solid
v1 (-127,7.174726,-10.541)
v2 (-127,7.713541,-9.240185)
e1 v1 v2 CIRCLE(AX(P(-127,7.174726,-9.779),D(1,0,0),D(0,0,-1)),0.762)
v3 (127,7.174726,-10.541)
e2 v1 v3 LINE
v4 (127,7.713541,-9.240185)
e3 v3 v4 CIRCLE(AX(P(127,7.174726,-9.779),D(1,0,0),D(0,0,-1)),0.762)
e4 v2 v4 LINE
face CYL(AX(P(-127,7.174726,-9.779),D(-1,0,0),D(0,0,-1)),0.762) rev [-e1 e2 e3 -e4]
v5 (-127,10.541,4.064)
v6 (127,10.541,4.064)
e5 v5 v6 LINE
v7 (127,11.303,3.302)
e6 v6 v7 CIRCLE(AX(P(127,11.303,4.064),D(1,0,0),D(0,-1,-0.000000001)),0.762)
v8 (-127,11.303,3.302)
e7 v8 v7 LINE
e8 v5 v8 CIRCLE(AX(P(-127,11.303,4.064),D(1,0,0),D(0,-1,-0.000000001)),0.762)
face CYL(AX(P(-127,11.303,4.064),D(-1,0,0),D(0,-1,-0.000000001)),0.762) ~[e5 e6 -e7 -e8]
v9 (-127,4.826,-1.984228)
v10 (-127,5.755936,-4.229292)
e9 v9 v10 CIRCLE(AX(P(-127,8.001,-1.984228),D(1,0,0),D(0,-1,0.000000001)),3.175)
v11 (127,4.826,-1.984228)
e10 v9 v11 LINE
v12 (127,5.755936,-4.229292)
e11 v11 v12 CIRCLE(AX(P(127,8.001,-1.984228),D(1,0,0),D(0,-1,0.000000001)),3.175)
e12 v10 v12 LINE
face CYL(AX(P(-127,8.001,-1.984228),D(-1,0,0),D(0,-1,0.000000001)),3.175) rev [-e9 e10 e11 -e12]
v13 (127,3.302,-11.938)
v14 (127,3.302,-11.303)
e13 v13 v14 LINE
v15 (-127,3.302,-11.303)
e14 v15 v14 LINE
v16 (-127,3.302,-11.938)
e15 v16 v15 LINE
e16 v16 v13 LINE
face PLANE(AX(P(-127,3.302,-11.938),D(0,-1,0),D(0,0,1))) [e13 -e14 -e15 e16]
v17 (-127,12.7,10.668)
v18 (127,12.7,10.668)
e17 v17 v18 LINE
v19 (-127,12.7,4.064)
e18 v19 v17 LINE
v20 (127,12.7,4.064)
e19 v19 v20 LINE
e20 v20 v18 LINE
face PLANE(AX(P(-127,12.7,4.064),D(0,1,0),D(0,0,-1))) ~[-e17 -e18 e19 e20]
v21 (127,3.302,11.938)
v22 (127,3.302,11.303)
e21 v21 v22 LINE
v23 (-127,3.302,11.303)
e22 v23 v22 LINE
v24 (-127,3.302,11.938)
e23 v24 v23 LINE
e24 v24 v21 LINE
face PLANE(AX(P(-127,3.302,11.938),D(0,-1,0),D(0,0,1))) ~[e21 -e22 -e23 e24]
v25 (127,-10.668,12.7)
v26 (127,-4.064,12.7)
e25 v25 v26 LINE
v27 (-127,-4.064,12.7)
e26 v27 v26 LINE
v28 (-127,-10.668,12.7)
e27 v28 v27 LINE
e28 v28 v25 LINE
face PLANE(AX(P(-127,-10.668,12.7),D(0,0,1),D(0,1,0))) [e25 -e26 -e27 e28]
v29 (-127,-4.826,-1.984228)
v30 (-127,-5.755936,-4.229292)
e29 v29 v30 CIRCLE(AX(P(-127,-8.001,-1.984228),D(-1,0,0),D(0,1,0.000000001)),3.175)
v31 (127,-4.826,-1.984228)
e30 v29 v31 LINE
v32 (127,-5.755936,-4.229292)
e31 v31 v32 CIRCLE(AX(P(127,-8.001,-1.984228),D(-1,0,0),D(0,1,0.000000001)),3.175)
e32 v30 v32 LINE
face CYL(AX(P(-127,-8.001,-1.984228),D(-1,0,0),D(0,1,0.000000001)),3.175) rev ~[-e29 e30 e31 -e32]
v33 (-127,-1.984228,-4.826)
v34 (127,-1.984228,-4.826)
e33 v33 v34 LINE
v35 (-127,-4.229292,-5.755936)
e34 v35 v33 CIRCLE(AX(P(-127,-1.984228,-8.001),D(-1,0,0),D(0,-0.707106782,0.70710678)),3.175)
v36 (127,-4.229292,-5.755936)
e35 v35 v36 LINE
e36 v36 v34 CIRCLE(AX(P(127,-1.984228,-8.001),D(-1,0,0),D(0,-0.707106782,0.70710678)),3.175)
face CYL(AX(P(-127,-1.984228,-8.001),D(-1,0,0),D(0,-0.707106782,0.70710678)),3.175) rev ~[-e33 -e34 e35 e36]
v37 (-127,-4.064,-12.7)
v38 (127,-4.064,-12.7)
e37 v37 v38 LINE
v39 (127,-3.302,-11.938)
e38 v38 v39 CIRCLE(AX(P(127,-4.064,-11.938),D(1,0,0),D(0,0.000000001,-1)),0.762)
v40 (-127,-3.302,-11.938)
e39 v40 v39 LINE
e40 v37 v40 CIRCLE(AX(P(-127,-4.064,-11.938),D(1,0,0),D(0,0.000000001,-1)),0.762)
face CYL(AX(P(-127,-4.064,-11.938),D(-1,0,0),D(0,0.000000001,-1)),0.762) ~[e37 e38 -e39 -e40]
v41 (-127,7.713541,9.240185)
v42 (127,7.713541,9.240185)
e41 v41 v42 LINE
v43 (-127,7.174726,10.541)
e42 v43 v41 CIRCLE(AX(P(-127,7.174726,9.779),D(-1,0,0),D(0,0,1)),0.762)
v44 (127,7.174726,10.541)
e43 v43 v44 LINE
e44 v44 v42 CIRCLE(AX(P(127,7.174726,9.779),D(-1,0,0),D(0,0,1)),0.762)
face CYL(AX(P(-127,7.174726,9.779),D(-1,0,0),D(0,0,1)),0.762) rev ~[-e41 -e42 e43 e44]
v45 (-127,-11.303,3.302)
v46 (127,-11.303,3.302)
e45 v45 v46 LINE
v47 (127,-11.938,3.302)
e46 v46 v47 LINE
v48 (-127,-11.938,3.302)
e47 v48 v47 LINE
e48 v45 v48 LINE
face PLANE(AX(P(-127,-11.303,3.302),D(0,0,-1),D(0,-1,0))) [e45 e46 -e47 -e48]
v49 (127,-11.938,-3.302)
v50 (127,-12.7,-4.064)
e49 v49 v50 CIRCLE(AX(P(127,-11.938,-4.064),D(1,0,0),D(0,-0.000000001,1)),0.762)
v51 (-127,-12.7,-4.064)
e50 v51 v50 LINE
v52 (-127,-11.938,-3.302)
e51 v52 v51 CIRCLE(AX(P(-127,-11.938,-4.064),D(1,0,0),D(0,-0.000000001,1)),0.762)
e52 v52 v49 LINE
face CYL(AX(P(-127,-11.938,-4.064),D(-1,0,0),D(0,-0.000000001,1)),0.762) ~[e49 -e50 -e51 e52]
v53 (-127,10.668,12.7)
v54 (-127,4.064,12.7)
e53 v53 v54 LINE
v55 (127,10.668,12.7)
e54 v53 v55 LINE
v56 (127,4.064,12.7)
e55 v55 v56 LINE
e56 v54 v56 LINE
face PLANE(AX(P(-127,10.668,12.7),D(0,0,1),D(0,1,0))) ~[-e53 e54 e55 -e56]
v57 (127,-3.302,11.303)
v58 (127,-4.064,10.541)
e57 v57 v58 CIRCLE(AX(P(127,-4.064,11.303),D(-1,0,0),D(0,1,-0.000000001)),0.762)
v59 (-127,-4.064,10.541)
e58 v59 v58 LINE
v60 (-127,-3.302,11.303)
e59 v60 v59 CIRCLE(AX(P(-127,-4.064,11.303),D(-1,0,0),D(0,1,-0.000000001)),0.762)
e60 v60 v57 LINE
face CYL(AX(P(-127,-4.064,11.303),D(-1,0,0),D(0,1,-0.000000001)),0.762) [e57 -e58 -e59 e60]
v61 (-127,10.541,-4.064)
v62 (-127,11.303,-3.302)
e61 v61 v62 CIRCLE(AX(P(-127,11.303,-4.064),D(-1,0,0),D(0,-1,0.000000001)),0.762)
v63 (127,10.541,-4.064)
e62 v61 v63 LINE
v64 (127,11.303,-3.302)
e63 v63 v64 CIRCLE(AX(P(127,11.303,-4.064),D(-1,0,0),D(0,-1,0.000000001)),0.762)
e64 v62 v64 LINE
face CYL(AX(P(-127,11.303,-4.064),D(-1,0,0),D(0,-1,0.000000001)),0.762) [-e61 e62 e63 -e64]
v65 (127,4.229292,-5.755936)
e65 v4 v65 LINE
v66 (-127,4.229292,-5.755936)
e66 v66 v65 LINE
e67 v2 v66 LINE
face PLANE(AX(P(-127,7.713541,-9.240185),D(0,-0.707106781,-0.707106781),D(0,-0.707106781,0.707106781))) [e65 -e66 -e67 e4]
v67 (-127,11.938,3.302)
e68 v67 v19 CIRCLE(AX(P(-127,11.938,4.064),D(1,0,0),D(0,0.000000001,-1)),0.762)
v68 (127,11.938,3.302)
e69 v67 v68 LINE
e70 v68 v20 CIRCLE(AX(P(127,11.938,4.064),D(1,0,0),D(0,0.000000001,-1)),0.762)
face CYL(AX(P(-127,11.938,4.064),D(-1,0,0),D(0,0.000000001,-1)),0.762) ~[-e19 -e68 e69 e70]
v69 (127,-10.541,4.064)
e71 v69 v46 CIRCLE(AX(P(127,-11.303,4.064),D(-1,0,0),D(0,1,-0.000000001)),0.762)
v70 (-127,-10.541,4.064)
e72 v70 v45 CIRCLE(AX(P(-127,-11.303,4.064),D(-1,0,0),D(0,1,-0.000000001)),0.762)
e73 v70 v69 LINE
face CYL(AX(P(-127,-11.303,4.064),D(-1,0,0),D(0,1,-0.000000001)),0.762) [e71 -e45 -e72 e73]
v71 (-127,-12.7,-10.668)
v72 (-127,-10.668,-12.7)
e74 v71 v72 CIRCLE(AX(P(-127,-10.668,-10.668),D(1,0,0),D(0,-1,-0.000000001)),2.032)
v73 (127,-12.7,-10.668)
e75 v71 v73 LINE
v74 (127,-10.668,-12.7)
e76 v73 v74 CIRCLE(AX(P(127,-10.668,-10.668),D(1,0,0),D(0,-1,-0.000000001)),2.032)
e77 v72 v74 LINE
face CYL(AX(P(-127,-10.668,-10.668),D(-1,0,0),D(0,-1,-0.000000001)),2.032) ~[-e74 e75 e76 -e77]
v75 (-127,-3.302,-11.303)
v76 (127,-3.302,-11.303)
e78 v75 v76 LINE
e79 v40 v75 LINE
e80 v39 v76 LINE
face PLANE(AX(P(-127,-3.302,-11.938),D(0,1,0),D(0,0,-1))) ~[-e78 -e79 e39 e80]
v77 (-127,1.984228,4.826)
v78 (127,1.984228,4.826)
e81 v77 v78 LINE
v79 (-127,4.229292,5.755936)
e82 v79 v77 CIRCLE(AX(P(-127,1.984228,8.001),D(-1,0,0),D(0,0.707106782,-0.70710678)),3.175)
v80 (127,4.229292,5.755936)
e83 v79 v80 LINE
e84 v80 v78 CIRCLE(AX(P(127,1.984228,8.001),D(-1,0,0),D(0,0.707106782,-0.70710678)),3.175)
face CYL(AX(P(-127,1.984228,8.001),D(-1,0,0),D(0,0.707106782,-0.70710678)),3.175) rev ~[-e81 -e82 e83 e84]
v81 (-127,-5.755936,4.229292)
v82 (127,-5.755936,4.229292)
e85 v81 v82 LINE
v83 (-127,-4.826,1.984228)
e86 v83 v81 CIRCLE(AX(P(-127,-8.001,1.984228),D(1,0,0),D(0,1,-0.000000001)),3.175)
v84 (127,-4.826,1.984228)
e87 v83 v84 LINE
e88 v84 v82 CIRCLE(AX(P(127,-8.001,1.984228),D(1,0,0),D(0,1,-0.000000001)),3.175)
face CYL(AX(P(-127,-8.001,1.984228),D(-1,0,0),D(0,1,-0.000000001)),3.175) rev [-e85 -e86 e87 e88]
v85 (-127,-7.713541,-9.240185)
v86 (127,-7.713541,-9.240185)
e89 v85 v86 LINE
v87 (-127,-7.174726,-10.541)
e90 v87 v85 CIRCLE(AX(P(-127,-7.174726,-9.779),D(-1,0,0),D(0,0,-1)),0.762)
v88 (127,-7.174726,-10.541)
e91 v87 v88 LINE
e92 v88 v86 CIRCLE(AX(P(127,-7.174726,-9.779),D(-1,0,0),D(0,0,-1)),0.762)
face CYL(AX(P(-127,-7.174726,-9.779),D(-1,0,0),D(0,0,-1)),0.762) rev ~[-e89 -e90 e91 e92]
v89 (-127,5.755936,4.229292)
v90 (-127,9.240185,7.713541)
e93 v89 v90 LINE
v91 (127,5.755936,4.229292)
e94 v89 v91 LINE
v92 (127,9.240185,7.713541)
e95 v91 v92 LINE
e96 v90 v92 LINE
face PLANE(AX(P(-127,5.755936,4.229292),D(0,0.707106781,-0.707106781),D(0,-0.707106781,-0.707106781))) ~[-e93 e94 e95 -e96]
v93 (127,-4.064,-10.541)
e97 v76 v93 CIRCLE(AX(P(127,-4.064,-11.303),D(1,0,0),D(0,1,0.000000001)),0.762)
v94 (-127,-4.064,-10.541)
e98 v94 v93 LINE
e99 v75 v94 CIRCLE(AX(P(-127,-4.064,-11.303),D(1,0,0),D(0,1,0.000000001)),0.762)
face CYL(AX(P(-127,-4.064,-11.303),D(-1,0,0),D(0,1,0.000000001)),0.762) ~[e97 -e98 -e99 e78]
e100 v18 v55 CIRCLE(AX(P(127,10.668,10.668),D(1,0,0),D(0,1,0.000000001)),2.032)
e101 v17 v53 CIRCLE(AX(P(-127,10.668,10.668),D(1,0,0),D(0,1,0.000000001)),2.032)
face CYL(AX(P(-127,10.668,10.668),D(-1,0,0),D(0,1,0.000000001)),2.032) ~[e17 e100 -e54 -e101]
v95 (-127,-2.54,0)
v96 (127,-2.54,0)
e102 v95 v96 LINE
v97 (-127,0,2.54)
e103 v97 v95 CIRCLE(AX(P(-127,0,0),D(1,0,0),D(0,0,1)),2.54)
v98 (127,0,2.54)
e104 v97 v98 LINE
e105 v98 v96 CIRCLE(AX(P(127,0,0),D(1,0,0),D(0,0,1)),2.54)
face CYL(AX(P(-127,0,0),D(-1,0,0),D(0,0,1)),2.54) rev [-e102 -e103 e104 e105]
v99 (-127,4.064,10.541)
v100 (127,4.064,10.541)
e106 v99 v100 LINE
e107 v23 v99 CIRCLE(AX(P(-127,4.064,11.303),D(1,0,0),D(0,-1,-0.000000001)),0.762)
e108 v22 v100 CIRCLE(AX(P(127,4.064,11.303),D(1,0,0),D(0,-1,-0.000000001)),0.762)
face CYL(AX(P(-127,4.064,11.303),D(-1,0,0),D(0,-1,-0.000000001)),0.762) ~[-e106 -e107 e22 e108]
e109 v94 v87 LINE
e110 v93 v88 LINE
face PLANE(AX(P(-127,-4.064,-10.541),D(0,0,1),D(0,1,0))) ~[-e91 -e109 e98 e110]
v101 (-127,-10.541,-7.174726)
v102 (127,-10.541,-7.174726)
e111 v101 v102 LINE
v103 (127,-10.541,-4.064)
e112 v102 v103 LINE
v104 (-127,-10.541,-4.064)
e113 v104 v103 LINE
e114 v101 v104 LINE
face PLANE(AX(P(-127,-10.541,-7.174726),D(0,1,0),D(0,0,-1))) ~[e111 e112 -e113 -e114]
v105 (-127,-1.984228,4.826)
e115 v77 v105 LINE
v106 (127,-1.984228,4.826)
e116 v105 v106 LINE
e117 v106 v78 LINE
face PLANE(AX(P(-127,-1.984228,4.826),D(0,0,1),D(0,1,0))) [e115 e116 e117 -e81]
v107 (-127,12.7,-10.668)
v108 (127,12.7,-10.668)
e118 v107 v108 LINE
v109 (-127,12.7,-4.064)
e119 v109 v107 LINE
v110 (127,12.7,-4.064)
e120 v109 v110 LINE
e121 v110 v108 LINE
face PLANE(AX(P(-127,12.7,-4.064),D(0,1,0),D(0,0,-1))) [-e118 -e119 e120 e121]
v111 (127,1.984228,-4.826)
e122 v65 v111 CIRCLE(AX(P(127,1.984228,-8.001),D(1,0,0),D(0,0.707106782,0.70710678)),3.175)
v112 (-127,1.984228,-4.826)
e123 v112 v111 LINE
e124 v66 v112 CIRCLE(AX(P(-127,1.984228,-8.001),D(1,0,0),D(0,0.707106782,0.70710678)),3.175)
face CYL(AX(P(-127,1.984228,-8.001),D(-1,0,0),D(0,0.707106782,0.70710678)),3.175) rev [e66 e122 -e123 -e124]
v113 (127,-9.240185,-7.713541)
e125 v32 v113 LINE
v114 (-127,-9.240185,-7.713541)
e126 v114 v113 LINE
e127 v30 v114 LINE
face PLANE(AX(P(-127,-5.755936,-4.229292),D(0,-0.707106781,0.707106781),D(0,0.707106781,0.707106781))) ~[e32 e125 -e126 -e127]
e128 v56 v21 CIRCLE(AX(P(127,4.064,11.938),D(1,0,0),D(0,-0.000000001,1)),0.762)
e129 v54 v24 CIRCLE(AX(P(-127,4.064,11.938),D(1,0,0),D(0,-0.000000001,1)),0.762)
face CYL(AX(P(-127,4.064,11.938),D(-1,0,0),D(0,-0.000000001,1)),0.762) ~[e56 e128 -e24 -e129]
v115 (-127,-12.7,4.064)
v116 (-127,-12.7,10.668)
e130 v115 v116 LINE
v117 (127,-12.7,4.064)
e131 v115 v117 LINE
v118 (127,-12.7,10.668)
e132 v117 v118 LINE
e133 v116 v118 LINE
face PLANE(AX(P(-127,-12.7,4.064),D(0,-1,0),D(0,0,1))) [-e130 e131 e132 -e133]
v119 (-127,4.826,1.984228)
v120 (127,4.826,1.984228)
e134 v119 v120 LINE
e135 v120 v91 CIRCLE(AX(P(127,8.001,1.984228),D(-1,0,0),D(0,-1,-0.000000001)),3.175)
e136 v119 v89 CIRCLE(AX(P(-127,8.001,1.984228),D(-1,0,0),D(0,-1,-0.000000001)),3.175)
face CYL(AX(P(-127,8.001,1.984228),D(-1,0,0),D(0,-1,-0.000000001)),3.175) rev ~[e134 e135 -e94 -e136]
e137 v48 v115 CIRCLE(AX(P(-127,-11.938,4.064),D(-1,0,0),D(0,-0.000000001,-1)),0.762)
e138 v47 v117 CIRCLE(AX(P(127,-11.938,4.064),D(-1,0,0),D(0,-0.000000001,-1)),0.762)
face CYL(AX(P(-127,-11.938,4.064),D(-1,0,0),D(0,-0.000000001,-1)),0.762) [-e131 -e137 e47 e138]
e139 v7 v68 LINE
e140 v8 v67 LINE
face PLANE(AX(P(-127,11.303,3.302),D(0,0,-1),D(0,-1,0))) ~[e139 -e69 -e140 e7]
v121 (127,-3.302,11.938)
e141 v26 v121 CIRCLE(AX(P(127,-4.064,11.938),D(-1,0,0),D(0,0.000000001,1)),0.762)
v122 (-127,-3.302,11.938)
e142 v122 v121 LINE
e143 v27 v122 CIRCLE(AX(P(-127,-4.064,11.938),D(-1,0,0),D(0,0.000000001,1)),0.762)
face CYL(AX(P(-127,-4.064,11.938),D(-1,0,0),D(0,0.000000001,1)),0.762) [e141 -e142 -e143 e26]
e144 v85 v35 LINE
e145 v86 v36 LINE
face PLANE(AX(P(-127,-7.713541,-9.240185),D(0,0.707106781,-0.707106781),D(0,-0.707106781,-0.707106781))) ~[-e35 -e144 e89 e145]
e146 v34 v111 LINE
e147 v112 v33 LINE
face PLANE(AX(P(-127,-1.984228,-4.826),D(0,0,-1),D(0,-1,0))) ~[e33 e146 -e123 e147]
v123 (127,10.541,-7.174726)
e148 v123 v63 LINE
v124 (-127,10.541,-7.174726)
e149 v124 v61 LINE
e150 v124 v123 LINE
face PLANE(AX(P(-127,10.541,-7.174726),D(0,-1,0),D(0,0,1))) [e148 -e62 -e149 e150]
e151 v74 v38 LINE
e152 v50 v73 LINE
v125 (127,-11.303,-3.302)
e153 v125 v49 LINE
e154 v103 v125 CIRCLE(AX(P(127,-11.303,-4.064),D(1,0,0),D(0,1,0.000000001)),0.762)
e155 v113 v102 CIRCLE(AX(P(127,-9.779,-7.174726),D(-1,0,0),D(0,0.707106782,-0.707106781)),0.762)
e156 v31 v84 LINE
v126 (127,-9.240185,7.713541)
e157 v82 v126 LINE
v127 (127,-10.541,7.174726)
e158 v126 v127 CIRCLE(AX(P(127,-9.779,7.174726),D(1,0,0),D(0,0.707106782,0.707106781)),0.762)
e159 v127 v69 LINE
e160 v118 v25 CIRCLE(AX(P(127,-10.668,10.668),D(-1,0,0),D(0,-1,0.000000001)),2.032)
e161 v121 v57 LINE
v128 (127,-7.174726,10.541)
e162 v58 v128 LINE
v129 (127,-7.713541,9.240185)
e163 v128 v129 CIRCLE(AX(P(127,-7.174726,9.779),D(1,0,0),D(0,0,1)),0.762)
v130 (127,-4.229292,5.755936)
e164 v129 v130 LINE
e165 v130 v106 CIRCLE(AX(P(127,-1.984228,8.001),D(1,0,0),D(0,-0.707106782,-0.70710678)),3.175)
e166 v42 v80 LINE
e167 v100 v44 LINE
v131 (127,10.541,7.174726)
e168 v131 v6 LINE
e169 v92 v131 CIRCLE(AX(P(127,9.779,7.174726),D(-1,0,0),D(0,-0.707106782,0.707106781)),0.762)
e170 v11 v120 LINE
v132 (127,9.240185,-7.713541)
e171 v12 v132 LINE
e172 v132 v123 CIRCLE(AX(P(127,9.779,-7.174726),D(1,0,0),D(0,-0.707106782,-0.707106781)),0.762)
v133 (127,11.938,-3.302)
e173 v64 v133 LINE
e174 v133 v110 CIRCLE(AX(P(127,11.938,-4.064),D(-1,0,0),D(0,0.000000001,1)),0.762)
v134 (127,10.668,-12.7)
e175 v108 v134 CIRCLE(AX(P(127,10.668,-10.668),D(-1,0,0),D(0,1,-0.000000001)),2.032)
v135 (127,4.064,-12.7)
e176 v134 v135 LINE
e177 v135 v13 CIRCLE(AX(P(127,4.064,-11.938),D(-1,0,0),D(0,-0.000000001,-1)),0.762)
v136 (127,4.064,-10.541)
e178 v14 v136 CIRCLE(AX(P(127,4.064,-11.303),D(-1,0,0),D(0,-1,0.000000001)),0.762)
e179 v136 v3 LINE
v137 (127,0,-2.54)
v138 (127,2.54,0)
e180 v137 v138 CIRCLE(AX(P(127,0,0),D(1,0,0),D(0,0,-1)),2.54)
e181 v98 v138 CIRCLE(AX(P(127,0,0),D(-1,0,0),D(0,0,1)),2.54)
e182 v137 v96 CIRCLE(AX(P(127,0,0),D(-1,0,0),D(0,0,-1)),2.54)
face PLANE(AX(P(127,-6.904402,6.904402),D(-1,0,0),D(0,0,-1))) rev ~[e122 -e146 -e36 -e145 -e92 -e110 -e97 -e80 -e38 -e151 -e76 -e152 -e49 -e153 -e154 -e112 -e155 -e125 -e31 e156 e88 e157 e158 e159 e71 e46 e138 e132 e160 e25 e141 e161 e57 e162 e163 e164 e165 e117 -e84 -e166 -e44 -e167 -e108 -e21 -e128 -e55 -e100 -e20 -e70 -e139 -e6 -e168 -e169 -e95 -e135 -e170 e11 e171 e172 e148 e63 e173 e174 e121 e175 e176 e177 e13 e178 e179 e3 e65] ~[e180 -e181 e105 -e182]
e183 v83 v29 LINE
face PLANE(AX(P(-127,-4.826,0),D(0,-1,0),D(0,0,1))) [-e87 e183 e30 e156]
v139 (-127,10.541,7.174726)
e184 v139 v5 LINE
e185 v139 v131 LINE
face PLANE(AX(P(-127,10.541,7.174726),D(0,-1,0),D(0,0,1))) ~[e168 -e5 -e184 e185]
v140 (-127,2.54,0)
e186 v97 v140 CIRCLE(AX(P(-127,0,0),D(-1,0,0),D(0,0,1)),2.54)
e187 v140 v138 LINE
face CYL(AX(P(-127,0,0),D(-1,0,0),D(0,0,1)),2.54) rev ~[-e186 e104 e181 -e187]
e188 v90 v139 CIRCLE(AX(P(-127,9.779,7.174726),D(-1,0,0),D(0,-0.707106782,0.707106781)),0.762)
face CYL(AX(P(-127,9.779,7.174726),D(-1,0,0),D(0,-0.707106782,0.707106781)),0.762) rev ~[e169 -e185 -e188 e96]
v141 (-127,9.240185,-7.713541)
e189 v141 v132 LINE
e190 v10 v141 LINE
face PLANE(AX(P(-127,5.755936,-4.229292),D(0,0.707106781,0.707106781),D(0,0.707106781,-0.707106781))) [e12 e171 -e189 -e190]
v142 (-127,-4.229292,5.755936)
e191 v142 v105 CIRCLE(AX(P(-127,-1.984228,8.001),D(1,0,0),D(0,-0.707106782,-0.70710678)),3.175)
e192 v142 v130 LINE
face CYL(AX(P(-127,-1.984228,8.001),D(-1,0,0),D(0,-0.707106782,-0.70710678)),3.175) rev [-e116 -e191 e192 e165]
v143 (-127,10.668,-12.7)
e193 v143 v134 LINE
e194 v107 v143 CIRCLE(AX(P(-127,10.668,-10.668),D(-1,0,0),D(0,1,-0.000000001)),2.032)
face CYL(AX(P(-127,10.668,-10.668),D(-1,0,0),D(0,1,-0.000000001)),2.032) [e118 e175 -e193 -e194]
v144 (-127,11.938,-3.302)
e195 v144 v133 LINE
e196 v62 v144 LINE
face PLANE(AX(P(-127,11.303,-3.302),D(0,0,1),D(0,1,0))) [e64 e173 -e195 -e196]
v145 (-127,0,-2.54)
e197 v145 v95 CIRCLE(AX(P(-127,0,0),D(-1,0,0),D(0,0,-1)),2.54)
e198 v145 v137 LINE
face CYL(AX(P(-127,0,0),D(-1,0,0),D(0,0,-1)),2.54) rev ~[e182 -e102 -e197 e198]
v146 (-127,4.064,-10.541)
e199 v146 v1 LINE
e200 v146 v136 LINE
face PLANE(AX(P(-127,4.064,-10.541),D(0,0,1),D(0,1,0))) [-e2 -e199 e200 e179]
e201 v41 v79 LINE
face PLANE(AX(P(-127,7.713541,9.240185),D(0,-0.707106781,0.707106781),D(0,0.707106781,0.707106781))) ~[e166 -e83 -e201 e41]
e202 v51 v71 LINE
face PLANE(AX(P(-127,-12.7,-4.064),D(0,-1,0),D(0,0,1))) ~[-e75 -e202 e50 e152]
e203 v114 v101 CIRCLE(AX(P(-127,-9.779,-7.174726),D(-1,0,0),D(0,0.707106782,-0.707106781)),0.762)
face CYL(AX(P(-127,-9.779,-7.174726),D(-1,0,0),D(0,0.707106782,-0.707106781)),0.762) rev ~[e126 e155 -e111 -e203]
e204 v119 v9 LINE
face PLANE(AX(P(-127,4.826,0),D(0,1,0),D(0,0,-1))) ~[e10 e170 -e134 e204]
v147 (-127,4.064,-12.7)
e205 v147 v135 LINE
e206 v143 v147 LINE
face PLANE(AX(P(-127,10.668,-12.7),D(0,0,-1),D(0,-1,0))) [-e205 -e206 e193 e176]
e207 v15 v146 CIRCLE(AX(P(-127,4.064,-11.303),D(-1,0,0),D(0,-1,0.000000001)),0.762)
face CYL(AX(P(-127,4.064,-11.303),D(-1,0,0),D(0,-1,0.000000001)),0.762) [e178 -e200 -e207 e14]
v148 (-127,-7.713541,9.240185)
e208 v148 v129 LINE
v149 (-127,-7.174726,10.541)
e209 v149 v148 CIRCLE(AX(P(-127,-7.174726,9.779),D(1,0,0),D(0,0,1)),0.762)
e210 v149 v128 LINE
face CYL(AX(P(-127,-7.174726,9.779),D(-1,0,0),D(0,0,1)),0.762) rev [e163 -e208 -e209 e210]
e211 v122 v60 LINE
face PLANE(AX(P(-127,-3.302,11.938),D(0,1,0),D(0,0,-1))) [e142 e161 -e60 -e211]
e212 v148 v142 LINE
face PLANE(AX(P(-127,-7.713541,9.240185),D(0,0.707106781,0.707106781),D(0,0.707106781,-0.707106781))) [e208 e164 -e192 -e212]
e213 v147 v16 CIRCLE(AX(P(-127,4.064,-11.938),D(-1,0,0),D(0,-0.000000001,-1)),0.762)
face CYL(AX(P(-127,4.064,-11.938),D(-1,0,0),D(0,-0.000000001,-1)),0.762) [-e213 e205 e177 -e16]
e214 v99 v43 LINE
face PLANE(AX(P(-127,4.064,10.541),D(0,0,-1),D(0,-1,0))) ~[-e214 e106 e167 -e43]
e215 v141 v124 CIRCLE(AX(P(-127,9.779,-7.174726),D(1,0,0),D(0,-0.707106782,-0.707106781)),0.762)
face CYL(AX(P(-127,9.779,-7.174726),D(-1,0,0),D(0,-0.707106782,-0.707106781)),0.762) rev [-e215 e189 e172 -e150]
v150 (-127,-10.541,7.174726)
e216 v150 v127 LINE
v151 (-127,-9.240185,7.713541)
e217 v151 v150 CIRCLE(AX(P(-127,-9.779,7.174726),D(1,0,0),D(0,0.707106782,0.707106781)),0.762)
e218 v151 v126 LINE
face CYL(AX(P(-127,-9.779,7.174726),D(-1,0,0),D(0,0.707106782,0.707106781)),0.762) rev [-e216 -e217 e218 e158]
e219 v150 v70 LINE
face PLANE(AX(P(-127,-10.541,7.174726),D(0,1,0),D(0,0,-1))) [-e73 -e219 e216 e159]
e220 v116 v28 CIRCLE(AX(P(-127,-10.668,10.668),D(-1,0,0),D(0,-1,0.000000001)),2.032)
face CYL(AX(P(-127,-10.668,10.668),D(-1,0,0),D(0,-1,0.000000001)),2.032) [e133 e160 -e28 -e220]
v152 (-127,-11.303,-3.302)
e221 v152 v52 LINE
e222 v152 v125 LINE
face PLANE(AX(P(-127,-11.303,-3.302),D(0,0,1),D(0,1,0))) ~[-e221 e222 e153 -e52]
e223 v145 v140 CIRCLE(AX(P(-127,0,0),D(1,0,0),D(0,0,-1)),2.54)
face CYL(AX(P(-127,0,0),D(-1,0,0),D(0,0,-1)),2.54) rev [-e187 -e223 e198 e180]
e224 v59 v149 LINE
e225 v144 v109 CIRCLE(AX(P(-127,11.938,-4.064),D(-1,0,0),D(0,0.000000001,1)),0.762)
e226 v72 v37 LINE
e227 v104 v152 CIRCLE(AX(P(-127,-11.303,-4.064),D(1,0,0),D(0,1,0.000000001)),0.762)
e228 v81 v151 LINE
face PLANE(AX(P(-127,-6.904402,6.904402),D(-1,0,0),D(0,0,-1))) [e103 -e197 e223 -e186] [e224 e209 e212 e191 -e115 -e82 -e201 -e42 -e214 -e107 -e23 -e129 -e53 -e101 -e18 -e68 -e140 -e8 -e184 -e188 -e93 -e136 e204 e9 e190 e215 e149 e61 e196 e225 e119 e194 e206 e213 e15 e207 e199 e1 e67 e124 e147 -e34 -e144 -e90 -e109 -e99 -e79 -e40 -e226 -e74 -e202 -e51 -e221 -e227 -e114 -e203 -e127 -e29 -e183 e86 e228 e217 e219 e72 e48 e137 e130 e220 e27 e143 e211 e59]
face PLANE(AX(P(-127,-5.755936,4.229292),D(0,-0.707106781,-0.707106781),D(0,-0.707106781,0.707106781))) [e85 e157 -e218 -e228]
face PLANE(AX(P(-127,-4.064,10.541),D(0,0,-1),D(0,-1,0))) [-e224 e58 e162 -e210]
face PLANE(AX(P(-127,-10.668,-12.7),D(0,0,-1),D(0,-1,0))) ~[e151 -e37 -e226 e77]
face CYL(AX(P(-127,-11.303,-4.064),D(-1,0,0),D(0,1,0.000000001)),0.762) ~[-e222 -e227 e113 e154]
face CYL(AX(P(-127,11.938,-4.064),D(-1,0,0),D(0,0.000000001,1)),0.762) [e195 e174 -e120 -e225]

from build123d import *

# Parameters (mm, degrees)
BOSS_EXTRUDE1_DEPTH      = 127
BOSS_EXTRUDE1_DEPTH_BACK = 127


with BuildPart() as part:
    # Sketch3 → Boss-Extrude1 (new, two sides: drawn at the far end of the back side and taken through both)
    with BuildSketch(Plane(origin=(0, 0, 0), x_dir=(0, 0, -1), z_dir=(1, 0, 0)).offset(-BOSS_EXTRUDE1_DEPTH_BACK)):
        with BuildLine():
            Line((0, 4.826), (1.984228399, 4.826))
            ThreePointArc((1.984228399, 4.826), (3.199248297, 5.067682484), (4.229292429, 5.75593597))
            Line((4.229292429, 5.75593597), (7.713541092, 9.240184633))
            ThreePointArc((7.713541092, 9.240184633), (7.878721929, 10.070604775), (7.174725725, 10.541))
            Line((7.174725725, 10.541), (4.064, 10.541))
            ThreePointArc((4.064, 10.541), (3.525184633, 10.764184633), (3.302, 11.303))
            Line((3.302, 11.303), (3.302, 11.938))
            ThreePointArc((3.302, 11.938), (3.525184633, 12.476815367), (4.064, 12.7))
            Line((4.064, 12.7), (10.668, 12.7))
            ThreePointArc((10.668, 12.7), (12.104840979, 12.104840979), (12.7, 10.668))
            Line((12.7, 10.668), (12.7, 4.064))
            ThreePointArc((12.7, 4.064), (12.476815367, 3.525184633), (11.938, 3.302))
            Line((11.938, 3.302), (11.303, 3.302))
            ThreePointArc((11.303, 3.302), (10.764184633, 3.525184633), (10.541, 4.064))
            Line((10.541, 4.064), (10.541, 7.174725725))
            ThreePointArc((10.541, 7.174725725), (10.070604775, 7.878721929), (9.240184633, 7.713541092))
            Line((9.240184633, 7.713541092), (5.75593597, 4.229292429))
            ThreePointArc((5.75593597, 4.229292429), (5.067682484, 3.199248297), (4.826, 1.984228399))
            Line((4.826, 1.984228399), (4.826, 0))
            Line((4.826, 0), (2.54, 0))
            ThreePointArc((2.54, 0), (1.796051224, 1.796051224), (0, 2.54))
            Line((0, 2.54), (0, 4.826))
        make_face()
    extrude(amount=BOSS_EXTRUDE1_DEPTH + BOSS_EXTRUDE1_DEPTH_BACK)

    # Mirror1: part across plane


with BuildPart() as part_1:
    add(part.part)
    add(part.part.mirror(Plane.ZX))

    # Mirror2: part across plane


with BuildPart() as part_2:
    add(part_1.part)
    add(part_1.part.mirror(Plane.XY))


solid = part_2.part
